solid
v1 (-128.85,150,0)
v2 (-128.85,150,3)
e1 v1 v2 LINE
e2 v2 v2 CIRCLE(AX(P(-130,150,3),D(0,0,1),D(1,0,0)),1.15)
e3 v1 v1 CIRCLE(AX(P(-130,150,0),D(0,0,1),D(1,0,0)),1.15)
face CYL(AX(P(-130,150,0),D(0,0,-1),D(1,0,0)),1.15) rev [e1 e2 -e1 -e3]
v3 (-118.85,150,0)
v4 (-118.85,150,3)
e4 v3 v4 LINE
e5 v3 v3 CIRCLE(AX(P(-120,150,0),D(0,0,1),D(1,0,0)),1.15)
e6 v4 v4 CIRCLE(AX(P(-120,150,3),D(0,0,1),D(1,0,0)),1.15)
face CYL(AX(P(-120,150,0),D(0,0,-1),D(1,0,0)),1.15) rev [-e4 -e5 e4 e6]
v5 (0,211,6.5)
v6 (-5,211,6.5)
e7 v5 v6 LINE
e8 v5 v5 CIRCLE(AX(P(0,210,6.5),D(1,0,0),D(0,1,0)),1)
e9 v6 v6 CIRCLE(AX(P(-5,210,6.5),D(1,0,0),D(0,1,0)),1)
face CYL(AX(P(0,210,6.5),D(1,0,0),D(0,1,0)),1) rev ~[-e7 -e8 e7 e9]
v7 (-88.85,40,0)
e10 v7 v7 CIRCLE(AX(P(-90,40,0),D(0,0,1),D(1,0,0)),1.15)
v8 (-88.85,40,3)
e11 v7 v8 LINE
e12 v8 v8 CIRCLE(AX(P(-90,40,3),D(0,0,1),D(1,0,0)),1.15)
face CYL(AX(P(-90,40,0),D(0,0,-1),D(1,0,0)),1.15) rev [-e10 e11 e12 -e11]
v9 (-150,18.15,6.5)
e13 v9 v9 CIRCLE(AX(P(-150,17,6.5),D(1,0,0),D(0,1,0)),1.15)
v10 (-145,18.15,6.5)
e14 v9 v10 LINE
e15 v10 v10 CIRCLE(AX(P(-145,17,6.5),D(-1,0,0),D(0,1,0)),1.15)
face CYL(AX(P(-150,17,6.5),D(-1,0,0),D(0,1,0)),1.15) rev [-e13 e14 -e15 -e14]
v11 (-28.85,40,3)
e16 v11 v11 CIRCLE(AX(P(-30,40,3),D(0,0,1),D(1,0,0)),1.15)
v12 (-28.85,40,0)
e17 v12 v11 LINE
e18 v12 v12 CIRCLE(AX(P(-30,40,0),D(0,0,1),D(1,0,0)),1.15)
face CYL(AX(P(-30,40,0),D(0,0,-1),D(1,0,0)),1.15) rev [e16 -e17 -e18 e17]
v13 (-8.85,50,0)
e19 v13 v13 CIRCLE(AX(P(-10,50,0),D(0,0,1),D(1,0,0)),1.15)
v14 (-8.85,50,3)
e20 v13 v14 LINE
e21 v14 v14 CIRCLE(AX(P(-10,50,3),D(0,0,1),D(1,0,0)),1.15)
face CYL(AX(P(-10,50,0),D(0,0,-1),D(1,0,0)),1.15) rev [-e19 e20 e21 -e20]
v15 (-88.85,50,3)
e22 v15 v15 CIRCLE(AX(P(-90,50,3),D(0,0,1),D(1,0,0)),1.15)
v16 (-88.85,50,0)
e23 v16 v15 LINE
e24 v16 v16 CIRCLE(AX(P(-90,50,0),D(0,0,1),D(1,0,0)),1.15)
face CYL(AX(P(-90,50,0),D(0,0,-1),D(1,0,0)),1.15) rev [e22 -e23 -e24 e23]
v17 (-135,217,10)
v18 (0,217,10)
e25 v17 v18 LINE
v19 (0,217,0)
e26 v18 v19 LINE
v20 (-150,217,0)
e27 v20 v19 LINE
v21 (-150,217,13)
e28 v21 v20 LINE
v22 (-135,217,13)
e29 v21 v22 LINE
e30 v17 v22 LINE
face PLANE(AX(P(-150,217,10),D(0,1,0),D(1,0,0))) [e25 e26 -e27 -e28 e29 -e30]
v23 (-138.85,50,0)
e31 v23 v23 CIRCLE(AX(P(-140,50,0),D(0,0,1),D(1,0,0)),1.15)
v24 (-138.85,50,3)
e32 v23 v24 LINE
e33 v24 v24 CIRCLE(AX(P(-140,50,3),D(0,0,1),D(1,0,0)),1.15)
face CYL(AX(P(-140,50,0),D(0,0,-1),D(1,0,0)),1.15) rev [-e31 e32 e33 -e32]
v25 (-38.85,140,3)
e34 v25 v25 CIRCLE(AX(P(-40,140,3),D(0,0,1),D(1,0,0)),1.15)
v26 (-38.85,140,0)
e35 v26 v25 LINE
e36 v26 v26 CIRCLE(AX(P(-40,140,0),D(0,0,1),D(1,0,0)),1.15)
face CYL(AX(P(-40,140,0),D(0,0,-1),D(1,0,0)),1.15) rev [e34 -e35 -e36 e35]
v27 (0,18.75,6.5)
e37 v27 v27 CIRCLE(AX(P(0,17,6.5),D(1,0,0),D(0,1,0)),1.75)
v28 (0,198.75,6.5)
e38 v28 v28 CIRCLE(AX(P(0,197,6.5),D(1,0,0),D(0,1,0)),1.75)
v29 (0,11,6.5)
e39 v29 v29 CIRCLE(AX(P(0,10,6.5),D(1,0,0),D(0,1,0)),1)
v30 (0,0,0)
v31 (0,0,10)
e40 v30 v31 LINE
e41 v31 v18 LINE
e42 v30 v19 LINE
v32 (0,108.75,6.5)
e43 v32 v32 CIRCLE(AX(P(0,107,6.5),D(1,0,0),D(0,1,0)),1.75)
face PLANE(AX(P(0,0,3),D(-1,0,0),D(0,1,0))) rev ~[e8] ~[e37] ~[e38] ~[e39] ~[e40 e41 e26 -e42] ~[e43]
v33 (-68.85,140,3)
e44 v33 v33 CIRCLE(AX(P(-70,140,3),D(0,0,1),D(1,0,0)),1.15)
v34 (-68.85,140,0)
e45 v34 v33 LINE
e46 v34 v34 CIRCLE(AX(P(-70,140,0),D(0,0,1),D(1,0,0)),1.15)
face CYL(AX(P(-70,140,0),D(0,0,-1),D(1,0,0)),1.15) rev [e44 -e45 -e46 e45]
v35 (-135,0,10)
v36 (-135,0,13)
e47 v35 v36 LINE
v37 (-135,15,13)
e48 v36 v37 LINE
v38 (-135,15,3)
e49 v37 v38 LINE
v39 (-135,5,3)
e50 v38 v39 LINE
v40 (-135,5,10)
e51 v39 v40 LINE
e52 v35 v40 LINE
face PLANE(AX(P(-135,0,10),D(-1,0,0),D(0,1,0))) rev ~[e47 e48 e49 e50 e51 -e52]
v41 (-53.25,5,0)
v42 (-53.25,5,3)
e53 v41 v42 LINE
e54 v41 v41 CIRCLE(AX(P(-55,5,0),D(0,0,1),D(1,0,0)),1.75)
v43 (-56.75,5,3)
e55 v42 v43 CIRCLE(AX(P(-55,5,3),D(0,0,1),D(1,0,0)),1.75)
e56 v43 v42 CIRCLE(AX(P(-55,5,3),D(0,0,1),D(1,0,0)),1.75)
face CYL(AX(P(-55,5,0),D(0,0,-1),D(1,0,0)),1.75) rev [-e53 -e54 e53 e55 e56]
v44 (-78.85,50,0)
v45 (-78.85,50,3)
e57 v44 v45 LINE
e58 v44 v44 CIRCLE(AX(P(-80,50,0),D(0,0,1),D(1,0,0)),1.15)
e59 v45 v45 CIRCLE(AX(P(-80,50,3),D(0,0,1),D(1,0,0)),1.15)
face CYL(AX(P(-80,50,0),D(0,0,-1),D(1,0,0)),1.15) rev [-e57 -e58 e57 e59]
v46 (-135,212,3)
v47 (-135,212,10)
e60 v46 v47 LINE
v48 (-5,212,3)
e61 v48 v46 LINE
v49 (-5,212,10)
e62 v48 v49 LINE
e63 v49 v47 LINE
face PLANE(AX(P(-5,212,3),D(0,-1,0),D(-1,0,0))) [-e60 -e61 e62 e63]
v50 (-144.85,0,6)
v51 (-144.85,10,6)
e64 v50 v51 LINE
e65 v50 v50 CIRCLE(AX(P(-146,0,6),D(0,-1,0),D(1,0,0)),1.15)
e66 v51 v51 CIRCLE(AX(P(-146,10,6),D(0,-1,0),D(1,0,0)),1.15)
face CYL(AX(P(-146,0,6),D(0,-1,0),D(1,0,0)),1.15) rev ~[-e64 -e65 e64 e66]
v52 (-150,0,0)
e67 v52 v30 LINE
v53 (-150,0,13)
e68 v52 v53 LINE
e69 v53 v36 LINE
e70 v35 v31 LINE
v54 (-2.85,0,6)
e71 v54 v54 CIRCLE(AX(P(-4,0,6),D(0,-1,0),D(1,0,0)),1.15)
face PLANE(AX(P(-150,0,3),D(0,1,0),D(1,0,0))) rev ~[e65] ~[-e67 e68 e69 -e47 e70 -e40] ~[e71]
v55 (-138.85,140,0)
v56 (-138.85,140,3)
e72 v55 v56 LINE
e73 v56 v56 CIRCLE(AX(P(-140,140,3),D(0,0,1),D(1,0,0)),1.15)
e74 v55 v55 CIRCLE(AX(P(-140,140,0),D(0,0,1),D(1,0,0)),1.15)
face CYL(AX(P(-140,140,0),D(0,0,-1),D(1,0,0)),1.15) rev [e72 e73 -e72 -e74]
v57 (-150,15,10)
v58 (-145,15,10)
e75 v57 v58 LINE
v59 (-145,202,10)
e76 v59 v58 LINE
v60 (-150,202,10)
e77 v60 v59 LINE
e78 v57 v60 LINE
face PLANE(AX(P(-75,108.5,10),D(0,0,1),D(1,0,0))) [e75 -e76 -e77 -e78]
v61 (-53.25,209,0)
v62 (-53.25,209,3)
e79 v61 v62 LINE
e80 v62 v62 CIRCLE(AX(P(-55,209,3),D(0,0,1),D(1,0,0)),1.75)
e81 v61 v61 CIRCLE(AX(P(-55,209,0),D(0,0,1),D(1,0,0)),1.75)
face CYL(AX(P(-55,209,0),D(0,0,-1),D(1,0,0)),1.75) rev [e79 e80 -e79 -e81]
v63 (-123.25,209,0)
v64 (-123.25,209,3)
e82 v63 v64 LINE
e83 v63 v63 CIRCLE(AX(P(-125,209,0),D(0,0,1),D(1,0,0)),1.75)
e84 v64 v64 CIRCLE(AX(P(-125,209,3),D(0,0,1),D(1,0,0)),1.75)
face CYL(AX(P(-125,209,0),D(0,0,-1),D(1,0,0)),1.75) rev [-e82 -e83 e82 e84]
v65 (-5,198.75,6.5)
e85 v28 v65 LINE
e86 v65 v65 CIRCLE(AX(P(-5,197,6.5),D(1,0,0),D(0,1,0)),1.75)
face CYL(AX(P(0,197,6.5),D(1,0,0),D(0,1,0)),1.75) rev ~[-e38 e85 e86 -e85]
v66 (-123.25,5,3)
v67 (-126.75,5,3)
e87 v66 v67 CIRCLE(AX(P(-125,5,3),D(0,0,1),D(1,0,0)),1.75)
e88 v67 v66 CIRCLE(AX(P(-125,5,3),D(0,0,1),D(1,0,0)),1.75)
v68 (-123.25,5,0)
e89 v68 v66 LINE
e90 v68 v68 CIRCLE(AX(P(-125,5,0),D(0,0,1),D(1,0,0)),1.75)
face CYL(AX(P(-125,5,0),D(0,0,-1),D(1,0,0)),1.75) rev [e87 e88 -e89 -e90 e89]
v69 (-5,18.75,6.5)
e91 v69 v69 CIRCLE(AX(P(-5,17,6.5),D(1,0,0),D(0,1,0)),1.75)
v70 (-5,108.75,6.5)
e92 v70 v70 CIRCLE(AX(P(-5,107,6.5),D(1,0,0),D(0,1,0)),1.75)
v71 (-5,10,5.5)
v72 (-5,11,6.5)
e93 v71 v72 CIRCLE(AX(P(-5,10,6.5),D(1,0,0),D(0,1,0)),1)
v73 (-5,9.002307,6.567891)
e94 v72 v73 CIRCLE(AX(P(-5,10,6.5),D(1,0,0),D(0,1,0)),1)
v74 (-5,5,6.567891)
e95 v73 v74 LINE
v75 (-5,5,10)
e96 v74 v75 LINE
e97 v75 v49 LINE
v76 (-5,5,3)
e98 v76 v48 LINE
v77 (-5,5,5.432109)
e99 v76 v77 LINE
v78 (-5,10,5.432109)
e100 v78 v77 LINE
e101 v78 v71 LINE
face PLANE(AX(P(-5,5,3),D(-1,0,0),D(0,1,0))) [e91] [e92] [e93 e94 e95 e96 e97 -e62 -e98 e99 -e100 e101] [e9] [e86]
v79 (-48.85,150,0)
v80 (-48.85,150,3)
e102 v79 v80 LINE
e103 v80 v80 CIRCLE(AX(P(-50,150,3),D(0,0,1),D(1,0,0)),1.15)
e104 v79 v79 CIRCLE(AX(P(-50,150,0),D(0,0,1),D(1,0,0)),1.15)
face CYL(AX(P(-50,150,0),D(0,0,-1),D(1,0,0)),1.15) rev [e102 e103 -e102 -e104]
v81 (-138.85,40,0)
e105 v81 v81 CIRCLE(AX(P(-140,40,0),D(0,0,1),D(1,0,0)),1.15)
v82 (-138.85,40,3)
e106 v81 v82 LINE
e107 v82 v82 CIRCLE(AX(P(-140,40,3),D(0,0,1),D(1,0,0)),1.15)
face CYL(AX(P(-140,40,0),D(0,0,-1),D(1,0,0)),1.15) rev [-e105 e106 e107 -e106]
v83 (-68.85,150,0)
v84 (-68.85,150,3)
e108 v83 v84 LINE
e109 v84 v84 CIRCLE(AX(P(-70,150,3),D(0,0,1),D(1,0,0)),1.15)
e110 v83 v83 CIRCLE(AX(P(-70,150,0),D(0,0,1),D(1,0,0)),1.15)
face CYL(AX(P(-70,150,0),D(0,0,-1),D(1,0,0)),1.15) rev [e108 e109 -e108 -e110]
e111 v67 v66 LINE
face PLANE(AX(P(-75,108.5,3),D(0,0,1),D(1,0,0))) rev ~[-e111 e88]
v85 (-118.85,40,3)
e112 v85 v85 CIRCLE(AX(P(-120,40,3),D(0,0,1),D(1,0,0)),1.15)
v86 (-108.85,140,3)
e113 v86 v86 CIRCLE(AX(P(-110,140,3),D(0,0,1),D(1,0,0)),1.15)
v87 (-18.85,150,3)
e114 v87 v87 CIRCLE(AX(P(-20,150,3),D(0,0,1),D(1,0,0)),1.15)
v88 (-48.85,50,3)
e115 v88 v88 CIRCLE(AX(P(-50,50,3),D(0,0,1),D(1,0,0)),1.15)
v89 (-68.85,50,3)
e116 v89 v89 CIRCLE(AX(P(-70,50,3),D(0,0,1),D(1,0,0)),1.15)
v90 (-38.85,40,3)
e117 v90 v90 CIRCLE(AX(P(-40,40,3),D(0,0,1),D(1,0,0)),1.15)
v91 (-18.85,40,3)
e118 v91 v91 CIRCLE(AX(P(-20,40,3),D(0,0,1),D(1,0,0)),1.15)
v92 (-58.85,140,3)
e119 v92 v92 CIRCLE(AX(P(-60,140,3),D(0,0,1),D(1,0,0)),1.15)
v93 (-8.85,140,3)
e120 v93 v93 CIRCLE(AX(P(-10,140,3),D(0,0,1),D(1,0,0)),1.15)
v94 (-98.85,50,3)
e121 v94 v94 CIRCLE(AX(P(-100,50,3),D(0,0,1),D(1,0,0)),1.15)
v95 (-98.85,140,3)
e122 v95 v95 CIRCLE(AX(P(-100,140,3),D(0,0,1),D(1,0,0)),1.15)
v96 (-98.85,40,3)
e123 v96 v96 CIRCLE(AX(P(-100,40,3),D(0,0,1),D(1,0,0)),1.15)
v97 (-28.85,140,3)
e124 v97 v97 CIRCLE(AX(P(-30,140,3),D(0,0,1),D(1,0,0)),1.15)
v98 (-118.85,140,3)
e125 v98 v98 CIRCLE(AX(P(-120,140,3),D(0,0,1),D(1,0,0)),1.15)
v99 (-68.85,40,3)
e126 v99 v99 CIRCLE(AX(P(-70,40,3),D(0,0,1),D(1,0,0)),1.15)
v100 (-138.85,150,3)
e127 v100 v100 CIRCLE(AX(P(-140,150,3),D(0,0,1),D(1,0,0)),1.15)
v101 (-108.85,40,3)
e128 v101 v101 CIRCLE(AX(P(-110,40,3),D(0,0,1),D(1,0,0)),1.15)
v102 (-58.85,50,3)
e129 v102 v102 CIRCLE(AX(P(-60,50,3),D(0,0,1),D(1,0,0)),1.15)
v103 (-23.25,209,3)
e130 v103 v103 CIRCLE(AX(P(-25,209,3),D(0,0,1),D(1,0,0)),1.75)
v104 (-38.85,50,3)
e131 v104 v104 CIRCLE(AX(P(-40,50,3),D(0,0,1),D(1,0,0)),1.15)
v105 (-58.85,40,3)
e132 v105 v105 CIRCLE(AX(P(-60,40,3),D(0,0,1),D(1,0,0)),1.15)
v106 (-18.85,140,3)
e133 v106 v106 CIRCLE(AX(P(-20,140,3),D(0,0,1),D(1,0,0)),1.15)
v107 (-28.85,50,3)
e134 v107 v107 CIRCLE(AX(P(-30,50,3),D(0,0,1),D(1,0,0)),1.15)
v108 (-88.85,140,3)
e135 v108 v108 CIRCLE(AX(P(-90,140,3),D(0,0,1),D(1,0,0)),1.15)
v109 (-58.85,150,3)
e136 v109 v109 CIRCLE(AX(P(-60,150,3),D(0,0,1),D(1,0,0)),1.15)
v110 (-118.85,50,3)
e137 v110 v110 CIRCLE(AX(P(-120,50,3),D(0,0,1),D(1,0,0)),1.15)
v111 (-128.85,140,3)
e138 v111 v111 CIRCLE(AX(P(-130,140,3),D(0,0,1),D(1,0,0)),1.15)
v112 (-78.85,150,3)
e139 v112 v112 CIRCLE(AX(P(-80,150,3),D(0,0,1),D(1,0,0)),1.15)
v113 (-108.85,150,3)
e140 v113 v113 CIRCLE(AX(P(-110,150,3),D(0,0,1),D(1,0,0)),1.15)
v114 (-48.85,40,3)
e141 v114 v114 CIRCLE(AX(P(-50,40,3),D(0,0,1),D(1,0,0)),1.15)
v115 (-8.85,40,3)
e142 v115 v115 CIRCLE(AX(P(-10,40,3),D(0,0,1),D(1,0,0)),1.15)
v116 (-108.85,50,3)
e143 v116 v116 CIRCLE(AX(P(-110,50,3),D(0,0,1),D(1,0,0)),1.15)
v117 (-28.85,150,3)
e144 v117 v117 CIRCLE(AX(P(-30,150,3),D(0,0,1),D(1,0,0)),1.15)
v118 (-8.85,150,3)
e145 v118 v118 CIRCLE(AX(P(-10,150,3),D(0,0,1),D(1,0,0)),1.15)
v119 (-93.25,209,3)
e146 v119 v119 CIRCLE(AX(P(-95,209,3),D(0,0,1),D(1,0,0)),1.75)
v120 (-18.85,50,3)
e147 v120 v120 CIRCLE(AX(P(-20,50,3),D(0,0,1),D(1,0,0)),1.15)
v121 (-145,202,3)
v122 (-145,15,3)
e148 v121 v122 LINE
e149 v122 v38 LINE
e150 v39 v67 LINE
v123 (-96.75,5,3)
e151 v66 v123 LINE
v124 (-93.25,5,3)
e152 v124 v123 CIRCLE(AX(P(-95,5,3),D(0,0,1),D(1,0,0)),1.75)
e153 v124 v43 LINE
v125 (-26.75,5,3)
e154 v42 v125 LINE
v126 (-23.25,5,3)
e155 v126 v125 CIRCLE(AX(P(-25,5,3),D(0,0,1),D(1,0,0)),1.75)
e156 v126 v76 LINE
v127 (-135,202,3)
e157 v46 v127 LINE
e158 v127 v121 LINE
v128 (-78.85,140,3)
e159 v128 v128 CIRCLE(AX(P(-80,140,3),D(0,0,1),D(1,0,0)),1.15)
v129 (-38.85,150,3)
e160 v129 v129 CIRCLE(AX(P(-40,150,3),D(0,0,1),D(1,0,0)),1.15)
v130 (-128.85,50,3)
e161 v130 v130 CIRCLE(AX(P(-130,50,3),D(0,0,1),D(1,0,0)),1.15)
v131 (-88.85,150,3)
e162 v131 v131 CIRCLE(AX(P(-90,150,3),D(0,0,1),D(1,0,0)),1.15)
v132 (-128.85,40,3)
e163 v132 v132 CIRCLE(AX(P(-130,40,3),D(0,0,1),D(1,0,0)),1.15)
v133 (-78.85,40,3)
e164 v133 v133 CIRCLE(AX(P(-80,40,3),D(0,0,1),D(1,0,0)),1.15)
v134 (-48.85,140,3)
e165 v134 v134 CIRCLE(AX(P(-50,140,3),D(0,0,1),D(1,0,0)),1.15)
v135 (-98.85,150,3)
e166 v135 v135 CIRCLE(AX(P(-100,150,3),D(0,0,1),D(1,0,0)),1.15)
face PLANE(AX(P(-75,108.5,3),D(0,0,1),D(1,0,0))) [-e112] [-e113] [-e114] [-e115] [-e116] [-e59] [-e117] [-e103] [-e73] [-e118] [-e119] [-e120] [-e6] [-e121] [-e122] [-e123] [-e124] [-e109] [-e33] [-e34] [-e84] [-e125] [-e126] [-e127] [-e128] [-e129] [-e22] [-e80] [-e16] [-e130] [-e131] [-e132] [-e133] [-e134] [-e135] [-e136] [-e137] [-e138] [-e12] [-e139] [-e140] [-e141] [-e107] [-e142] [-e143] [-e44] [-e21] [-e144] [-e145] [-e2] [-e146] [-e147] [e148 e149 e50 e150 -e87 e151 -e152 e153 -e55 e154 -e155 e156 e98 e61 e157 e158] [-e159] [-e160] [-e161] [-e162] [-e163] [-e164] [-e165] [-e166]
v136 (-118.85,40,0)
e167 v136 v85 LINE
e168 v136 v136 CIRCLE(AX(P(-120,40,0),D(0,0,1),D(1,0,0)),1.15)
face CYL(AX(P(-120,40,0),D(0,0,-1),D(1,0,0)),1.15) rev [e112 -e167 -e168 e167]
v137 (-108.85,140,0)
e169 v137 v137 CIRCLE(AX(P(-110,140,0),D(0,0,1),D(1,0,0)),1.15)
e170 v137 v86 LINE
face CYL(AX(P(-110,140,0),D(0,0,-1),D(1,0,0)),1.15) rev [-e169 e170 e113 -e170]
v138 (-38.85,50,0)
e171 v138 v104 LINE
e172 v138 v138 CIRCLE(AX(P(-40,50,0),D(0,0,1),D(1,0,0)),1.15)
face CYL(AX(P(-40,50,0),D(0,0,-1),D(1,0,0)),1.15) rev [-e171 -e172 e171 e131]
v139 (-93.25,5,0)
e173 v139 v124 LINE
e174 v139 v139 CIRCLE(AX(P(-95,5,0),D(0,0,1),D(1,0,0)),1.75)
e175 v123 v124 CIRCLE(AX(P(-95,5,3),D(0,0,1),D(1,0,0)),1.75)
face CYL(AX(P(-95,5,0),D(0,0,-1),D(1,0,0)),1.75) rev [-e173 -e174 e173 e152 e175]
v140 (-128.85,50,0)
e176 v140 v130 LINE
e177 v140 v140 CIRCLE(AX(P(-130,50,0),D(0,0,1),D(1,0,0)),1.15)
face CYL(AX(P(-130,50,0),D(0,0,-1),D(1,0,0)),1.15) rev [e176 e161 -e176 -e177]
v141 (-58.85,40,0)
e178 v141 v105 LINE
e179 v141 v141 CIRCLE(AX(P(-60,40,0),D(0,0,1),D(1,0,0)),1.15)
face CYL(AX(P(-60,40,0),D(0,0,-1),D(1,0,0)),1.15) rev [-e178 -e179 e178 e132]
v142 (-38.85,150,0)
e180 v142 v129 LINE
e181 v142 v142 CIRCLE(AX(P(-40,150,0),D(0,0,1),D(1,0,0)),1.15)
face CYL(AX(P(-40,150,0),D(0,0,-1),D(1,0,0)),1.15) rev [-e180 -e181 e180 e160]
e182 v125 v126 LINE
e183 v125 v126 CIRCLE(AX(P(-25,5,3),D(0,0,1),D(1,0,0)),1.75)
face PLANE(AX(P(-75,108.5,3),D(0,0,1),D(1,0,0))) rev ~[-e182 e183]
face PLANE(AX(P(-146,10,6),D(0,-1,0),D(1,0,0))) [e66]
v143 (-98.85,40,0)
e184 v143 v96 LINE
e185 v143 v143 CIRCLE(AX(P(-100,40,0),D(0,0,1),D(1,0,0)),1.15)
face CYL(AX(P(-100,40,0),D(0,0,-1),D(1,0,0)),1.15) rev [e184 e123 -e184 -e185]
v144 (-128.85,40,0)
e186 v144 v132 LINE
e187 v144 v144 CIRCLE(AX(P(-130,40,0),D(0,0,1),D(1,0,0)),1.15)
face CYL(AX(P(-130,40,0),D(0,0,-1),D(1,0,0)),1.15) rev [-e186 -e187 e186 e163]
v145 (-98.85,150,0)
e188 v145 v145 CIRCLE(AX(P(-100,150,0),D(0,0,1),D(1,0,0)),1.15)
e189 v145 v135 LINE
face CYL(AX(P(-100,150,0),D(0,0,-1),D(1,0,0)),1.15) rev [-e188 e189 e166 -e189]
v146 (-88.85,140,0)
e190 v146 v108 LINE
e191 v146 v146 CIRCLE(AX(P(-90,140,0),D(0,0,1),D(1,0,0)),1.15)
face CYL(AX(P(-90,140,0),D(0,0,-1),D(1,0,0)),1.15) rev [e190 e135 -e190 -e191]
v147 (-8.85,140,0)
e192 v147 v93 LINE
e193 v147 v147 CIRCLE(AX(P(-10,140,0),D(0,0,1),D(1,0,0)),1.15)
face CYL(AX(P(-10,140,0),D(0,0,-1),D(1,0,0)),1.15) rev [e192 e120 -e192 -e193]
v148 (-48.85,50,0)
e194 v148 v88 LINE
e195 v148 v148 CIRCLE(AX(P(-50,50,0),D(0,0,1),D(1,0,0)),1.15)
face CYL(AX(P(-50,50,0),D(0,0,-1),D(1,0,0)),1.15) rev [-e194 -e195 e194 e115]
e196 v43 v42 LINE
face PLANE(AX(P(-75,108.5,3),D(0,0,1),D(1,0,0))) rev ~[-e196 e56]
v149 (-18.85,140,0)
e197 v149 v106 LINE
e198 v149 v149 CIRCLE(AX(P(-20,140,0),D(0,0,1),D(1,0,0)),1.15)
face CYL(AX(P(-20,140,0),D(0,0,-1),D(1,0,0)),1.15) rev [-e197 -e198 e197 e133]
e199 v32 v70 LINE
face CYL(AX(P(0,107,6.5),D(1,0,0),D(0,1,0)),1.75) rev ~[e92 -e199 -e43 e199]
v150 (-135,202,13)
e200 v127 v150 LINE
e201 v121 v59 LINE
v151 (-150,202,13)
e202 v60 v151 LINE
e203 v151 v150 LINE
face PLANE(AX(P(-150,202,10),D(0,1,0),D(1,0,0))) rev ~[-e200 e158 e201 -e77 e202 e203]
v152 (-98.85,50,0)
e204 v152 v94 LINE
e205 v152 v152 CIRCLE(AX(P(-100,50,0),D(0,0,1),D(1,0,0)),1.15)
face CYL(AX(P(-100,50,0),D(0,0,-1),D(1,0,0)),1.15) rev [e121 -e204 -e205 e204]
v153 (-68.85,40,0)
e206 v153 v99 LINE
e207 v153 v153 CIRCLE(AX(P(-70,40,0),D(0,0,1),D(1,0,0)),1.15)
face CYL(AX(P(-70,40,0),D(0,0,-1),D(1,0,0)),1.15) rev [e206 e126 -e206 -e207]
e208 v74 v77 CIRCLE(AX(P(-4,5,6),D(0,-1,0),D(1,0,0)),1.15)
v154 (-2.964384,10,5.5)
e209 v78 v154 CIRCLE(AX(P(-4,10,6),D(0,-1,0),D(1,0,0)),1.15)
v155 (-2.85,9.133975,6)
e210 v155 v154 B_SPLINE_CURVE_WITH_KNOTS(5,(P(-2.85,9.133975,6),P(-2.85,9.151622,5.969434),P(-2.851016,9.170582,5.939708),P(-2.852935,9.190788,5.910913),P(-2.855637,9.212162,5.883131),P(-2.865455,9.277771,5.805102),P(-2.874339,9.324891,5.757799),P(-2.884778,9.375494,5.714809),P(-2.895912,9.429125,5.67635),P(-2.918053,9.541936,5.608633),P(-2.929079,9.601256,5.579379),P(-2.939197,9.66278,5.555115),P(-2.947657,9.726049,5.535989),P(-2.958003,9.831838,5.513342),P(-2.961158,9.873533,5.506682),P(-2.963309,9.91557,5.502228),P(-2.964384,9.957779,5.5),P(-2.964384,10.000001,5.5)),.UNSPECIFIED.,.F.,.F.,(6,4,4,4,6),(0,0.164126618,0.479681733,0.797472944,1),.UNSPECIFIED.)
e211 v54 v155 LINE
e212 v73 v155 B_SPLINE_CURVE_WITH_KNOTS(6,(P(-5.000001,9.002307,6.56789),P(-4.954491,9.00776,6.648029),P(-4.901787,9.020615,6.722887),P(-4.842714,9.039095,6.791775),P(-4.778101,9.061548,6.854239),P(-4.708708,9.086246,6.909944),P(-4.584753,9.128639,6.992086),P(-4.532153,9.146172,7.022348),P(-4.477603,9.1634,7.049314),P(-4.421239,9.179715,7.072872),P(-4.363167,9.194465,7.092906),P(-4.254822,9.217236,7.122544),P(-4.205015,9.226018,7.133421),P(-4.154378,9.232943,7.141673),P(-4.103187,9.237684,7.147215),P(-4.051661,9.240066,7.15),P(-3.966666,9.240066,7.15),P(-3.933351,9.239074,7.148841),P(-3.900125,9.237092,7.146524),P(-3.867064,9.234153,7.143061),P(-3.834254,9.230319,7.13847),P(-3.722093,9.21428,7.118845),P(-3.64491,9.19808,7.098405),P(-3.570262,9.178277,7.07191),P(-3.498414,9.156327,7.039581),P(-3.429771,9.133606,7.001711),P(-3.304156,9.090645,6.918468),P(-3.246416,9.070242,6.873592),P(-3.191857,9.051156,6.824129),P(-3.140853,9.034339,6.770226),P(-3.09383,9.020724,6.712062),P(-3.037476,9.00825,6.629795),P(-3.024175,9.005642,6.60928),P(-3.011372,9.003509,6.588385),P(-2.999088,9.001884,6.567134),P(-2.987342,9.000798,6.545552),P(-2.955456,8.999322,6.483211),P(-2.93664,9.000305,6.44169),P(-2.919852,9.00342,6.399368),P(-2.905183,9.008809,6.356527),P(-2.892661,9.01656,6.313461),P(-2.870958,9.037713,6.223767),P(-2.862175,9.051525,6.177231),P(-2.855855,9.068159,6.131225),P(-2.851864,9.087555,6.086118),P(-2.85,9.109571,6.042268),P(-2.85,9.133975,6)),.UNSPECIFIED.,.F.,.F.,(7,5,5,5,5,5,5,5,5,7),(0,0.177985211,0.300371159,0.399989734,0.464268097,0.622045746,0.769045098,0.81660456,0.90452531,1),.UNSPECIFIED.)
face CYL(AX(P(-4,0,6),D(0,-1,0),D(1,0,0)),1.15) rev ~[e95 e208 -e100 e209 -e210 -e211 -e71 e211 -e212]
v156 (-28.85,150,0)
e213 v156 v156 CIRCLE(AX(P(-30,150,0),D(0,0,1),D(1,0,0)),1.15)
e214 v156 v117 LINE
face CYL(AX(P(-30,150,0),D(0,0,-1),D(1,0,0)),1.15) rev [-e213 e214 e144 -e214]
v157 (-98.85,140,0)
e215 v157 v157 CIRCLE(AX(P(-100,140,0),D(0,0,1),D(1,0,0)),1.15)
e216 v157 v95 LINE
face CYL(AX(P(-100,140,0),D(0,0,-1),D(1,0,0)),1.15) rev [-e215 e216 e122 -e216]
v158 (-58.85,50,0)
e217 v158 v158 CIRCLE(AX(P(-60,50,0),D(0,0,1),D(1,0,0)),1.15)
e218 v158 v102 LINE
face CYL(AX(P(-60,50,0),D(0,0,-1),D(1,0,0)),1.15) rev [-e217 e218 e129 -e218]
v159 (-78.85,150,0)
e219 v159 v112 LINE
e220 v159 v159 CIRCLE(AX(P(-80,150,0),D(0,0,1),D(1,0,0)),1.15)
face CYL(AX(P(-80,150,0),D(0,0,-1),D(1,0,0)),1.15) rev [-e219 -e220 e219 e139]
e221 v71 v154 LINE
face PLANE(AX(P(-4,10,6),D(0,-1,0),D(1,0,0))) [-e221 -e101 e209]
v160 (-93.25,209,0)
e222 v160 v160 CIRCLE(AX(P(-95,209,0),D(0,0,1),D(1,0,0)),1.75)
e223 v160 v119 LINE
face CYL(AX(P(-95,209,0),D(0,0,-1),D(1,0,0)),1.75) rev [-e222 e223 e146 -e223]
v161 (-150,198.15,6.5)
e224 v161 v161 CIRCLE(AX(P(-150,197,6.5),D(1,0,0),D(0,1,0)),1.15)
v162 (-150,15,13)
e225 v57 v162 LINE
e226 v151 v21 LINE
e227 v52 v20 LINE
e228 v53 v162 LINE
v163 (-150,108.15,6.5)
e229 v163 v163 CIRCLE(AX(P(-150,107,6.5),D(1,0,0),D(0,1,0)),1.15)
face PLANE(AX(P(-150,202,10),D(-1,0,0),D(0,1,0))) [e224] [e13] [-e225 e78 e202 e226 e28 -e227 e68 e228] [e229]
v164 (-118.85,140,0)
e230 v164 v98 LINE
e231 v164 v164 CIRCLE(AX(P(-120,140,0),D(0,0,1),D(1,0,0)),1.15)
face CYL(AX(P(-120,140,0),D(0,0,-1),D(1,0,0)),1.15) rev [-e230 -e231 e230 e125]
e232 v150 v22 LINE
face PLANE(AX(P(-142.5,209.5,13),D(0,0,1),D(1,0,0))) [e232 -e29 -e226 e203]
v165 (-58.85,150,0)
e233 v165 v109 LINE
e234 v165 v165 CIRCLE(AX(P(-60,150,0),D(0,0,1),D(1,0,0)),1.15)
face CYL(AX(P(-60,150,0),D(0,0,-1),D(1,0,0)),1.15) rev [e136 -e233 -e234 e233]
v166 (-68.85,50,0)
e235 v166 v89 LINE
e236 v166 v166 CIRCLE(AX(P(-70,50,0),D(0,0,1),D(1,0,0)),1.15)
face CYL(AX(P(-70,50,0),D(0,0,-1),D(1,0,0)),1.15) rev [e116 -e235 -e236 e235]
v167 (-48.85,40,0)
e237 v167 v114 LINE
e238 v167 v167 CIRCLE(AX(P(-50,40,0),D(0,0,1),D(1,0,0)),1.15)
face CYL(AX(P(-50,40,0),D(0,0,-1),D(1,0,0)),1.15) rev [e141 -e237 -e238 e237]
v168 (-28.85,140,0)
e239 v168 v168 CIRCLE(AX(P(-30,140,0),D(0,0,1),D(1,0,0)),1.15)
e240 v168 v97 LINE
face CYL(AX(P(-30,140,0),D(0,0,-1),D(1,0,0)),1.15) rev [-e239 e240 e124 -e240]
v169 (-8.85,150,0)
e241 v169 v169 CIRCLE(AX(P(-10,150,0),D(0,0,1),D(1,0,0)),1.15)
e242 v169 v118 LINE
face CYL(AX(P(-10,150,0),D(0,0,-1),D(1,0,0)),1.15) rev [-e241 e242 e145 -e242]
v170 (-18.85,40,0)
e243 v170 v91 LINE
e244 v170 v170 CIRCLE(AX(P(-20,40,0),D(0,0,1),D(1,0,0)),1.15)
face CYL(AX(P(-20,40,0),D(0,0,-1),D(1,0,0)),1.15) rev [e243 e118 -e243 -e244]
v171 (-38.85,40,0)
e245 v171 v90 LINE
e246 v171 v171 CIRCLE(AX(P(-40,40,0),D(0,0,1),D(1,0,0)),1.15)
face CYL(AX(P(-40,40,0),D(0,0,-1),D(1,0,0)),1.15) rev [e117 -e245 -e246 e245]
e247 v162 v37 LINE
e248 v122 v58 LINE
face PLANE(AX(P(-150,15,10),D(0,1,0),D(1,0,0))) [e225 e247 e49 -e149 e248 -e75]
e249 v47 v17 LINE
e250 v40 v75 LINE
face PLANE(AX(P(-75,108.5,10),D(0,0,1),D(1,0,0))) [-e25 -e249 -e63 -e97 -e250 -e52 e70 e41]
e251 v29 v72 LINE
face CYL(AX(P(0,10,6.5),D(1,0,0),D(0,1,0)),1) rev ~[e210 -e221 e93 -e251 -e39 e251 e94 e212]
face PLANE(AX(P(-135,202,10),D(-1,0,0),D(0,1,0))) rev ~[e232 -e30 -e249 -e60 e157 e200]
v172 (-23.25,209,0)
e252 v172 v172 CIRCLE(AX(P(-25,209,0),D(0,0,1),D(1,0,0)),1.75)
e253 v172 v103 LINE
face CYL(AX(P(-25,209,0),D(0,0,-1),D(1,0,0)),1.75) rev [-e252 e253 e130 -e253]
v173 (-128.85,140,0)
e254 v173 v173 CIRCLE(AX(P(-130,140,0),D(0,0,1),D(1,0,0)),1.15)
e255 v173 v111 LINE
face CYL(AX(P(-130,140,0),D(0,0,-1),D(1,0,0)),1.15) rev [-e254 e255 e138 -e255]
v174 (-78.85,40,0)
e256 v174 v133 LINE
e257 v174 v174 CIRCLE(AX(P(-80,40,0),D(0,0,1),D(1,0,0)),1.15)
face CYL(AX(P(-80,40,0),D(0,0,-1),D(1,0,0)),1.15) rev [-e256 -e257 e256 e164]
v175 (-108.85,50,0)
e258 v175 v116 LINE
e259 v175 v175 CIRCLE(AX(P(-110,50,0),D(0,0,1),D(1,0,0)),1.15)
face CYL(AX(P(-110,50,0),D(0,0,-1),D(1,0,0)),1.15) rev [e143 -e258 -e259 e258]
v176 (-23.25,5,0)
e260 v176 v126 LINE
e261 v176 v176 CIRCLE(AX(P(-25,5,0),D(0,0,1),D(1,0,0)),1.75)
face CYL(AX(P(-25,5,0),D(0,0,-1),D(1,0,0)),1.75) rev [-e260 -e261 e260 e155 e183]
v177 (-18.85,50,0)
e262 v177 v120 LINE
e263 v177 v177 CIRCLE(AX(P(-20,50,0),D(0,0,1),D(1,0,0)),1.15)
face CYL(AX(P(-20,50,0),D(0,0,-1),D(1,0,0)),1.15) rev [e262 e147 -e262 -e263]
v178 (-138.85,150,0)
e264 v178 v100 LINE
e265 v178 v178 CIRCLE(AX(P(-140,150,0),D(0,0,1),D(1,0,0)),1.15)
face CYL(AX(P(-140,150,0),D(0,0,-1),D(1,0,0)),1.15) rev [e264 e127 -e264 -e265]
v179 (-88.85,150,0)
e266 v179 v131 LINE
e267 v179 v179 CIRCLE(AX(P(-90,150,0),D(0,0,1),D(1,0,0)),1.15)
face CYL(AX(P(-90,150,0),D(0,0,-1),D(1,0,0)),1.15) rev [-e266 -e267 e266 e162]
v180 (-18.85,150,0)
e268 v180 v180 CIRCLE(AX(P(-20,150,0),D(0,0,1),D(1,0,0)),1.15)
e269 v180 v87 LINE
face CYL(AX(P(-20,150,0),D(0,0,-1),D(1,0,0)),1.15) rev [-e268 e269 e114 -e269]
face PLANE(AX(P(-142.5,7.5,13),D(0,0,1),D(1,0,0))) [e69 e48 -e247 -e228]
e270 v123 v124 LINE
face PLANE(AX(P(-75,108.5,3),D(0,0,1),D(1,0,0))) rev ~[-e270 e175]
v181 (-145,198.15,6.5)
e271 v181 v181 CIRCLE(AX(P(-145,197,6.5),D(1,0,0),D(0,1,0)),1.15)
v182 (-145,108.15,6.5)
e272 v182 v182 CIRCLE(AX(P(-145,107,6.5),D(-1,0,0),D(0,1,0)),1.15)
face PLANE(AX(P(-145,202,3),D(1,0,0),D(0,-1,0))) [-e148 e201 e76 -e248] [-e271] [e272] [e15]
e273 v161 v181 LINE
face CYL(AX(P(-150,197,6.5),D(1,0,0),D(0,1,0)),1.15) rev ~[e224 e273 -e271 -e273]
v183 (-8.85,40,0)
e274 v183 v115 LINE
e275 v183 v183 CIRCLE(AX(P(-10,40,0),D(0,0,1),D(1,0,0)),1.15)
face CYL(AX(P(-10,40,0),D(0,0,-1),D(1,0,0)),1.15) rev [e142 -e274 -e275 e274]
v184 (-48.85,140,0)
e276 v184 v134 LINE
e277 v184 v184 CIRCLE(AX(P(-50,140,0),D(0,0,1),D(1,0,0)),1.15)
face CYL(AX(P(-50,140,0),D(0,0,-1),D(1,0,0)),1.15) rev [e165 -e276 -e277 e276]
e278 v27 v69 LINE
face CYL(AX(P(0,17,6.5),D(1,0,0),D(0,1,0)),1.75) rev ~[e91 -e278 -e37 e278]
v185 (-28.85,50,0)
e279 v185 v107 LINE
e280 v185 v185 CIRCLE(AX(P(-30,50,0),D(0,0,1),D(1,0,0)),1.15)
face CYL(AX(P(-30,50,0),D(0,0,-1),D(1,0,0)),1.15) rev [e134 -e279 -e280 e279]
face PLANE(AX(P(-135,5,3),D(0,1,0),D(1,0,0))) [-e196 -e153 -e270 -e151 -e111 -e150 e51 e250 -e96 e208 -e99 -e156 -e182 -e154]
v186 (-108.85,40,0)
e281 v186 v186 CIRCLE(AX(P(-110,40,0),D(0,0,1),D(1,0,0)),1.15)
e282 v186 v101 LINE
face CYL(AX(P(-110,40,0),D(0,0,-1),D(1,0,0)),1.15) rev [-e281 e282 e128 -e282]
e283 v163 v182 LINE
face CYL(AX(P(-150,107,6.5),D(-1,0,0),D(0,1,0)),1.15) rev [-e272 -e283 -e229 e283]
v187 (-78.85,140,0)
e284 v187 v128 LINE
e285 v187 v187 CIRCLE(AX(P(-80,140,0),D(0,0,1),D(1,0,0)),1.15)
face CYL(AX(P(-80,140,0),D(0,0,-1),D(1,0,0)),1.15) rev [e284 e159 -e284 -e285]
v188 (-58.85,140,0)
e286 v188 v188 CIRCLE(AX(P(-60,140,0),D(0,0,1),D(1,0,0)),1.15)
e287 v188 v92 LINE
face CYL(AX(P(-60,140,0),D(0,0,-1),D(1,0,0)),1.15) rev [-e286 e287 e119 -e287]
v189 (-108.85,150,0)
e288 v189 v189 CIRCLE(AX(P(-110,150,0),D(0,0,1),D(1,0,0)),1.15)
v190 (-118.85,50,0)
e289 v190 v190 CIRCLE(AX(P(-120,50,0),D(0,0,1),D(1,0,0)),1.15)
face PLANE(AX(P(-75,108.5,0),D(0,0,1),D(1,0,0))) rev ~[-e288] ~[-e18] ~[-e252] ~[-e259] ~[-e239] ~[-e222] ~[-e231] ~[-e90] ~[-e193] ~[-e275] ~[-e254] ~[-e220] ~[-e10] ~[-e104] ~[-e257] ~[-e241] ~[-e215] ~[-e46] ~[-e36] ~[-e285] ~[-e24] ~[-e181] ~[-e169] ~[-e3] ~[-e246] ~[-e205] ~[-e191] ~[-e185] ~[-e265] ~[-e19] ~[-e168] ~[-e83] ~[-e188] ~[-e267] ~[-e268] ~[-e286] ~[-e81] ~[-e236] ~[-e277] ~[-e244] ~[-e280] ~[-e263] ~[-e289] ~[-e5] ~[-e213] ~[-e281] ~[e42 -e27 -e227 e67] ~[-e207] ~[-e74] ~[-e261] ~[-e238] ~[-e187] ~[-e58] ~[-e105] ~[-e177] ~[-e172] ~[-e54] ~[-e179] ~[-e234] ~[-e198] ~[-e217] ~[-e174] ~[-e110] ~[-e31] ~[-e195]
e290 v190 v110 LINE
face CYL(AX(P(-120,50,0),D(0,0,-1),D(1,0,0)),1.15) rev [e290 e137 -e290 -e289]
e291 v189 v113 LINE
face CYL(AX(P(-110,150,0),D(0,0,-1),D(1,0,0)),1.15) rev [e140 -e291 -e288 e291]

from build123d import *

# Parameters (mm, degrees)
SKETCH_W        = 150
SKETCH_H        = 217
SKETCH_R        = 1.15
SKETCH_R_2      = 1.75
PAD_DEPTH       = 3
SKETCH001_W     = 150
SKETCH001_H     = 217
PAD001_DEPTH    = 7
SKETCH002_R     = 1.75
SKETCH002_R_2   = 1
POCKET_DEPTH    = 5
SKETCH003_R     = 1.15
POCKET001_DEPTH = 7.5
SKETCH004_R     = 1.15
POCKET002_DEPTH = 10
SKETCH005_W     = 15
SKETCH005_H     = 15
PAD002_DEPTH    = 3


with BuildPart() as part:
    # Sketch → Pad (new body)
    with BuildSketch(Plane.XY):
        with Locations((-75, 108.5)):
            Rectangle(SKETCH_W, SKETCH_H)
        with Locations((-140, 40)):
            Circle(SKETCH_R, mode=Mode.SUBTRACT)
        with Locations((-130, 40)):
            Circle(SKETCH_R, mode=Mode.SUBTRACT)
        with Locations((-120, 40)):
            Circle(SKETCH_R, mode=Mode.SUBTRACT)
        with Locations((-110, 40)):
            Circle(SKETCH_R, mode=Mode.SUBTRACT)
        with Locations((-100, 40)):
            Circle(SKETCH_R, mode=Mode.SUBTRACT)
        with Locations((-90, 40)):
            Circle(SKETCH_R, mode=Mode.SUBTRACT)
        with Locations((-80, 40)):
            Circle(SKETCH_R, mode=Mode.SUBTRACT)
        with Locations((-70, 40)):
            Circle(SKETCH_R, mode=Mode.SUBTRACT)
        with Locations((-60, 40)):
            Circle(SKETCH_R, mode=Mode.SUBTRACT)
        with Locations((-50, 40)):
            Circle(SKETCH_R, mode=Mode.SUBTRACT)
        with Locations((-40, 40)):
            Circle(SKETCH_R, mode=Mode.SUBTRACT)
        with Locations((-30, 40)):
            Circle(SKETCH_R, mode=Mode.SUBTRACT)
        with Locations((-20, 40)):
            Circle(SKETCH_R, mode=Mode.SUBTRACT)
        with Locations((-10, 40)):
            Circle(SKETCH_R, mode=Mode.SUBTRACT)
        with Locations((-140, 50)):
            Circle(SKETCH_R, mode=Mode.SUBTRACT)
        with Locations((-130, 50)):
            Circle(SKETCH_R, mode=Mode.SUBTRACT)
        with Locations((-120, 50)):
            Circle(SKETCH_R, mode=Mode.SUBTRACT)
        with Locations((-110, 50)):
            Circle(SKETCH_R, mode=Mode.SUBTRACT)
        with Locations((-100, 50)):
            Circle(SKETCH_R, mode=Mode.SUBTRACT)
        with Locations((-90, 50)):
            Circle(SKETCH_R, mode=Mode.SUBTRACT)
        with Locations((-80, 50)):
            Circle(SKETCH_R, mode=Mode.SUBTRACT)
        with Locations((-70, 50)):
            Circle(SKETCH_R, mode=Mode.SUBTRACT)
        with Locations((-60, 50)):
            Circle(SKETCH_R, mode=Mode.SUBTRACT)
        with Locations((-50, 50)):
            Circle(SKETCH_R, mode=Mode.SUBTRACT)
        with Locations((-40, 50)):
            Circle(SKETCH_R, mode=Mode.SUBTRACT)
        with Locations((-30, 50)):
            Circle(SKETCH_R, mode=Mode.SUBTRACT)
        with Locations((-20, 50)):
            Circle(SKETCH_R, mode=Mode.SUBTRACT)
        with Locations((-10, 50)):
            Circle(SKETCH_R, mode=Mode.SUBTRACT)
        with Locations((-140, 140)):
            Circle(SKETCH_R, mode=Mode.SUBTRACT)
        with Locations((-130, 140)):
            Circle(SKETCH_R, mode=Mode.SUBTRACT)
        with Locations((-120, 140)):
            Circle(SKETCH_R, mode=Mode.SUBTRACT)
        with Locations((-110, 140)):
            Circle(SKETCH_R, mode=Mode.SUBTRACT)
        with Locations((-100, 140)):
            Circle(SKETCH_R, mode=Mode.SUBTRACT)
        with Locations((-90, 140)):
            Circle(SKETCH_R, mode=Mode.SUBTRACT)
        with Locations((-80, 140)):
            Circle(SKETCH_R, mode=Mode.SUBTRACT)
        with Locations((-70, 140)):
            Circle(SKETCH_R, mode=Mode.SUBTRACT)
        with Locations((-60, 140)):
            Circle(SKETCH_R, mode=Mode.SUBTRACT)
        with Locations((-50, 140)):
            Circle(SKETCH_R, mode=Mode.SUBTRACT)
        with Locations((-40, 140)):
            Circle(SKETCH_R, mode=Mode.SUBTRACT)
        with Locations((-30, 140)):
            Circle(SKETCH_R, mode=Mode.SUBTRACT)
        with Locations((-20, 140)):
            Circle(SKETCH_R, mode=Mode.SUBTRACT)
        with Locations((-10, 140)):
            Circle(SKETCH_R, mode=Mode.SUBTRACT)
        with Locations((-140, 150)):
            Circle(SKETCH_R, mode=Mode.SUBTRACT)
        with Locations((-130, 150)):
            Circle(SKETCH_R, mode=Mode.SUBTRACT)
        with Locations((-120, 150)):
            Circle(SKETCH_R, mode=Mode.SUBTRACT)
        with Locations((-110, 150)):
            Circle(SKETCH_R, mode=Mode.SUBTRACT)
        with Locations((-100, 150)):
            Circle(SKETCH_R, mode=Mode.SUBTRACT)
        with Locations((-90, 150)):
            Circle(SKETCH_R, mode=Mode.SUBTRACT)
        with Locations((-80, 150)):
            Circle(SKETCH_R, mode=Mode.SUBTRACT)
        with Locations((-70, 150)):
            Circle(SKETCH_R, mode=Mode.SUBTRACT)
        with Locations((-60, 150)):
            Circle(SKETCH_R, mode=Mode.SUBTRACT)
        with Locations((-50, 150)):
            Circle(SKETCH_R, mode=Mode.SUBTRACT)
        with Locations((-40, 150)):
            Circle(SKETCH_R, mode=Mode.SUBTRACT)
        with Locations((-30, 150)):
            Circle(SKETCH_R, mode=Mode.SUBTRACT)
        with Locations((-20, 150)):
            Circle(SKETCH_R, mode=Mode.SUBTRACT)
        with Locations((-10, 150)):
            Circle(SKETCH_R, mode=Mode.SUBTRACT)
        with Locations((-125, 209)):
            Circle(SKETCH_R_2, mode=Mode.SUBTRACT)
        with Locations((-55, 209)):
            Circle(SKETCH_R_2, mode=Mode.SUBTRACT)
        with Locations((-125, 5)):
            Circle(SKETCH_R_2, mode=Mode.SUBTRACT)
        with Locations((-55, 5)):
            Circle(SKETCH_R_2, mode=Mode.SUBTRACT)
        with Locations((-25, 5)):
            Circle(SKETCH_R_2, mode=Mode.SUBTRACT)
        with Locations((-95, 5)):
            Circle(SKETCH_R_2, mode=Mode.SUBTRACT)
        with Locations((-25, 209)):
            Circle(SKETCH_R_2, mode=Mode.SUBTRACT)
        with Locations((-95, 209)):
            Circle(SKETCH_R_2, mode=Mode.SUBTRACT)
    extrude(amount=PAD_DEPTH)

    # Sketch001 → Pad001 (join)
    with BuildSketch(Plane.XY.offset(3)):
        with Locations((-75, 108.5)):
            Rectangle(SKETCH001_W, SKETCH001_H)
        Polygon((-5, 212), (-135, 212), (-135, 202), (-145, 202), (-145, 15), (-135, 15), (-135, 5), (-5, 5), align=None, mode=Mode.SUBTRACT)
    extrude(amount=PAD001_DEPTH)

    # Sketch002 → Pocket (cut)
    with BuildSketch(Plane.YZ):
        with Locations((17, 6.5)):
            Circle(SKETCH002_R)
        with Locations((107, 6.5)):
            Circle(SKETCH002_R)
        with Locations((197, 6.5)):
            Circle(SKETCH002_R)
        with Locations((10, 6.5)):
            Circle(SKETCH002_R_2)
        with Locations((210, 6.5)):
            Circle(SKETCH002_R_2)
    extrude(amount=-POCKET_DEPTH, mode=Mode.SUBTRACT)

    # Sketch003 → Pocket001 (cut, symmetric)
    with BuildSketch(Plane.YZ.offset(-150)):
        with Locations((107, 6.5)):
            Circle(SKETCH003_R)
        with Locations((17, 6.5)):
            Circle(SKETCH003_R)
        with Locations((197, 6.5)):
            Circle(SKETCH003_R)
    extrude(amount=POCKET001_DEPTH, both=True, mode=Mode.SUBTRACT)

    # Sketch004 → Pocket002 (cut)
    with BuildSketch(Plane.XZ):
        with Locations((-4, 6)):
            Circle(SKETCH004_R)
        with Locations((-146, 6)):
            Circle(SKETCH004_R)
    extrude(amount=-POCKET002_DEPTH, mode=Mode.SUBTRACT)

    # Sketch005 → Pad002 (join)
    with BuildSketch(Plane.XY.offset(10)):
        with Locations((-142.5, 209.5)):
            Rectangle(SKETCH005_W, SKETCH005_H)
        with Locations((-142.5, 7.5)):
            Rectangle(SKETCH005_W, SKETCH005_H)
    extrude(amount=PAD002_DEPTH)


solid = part.part
